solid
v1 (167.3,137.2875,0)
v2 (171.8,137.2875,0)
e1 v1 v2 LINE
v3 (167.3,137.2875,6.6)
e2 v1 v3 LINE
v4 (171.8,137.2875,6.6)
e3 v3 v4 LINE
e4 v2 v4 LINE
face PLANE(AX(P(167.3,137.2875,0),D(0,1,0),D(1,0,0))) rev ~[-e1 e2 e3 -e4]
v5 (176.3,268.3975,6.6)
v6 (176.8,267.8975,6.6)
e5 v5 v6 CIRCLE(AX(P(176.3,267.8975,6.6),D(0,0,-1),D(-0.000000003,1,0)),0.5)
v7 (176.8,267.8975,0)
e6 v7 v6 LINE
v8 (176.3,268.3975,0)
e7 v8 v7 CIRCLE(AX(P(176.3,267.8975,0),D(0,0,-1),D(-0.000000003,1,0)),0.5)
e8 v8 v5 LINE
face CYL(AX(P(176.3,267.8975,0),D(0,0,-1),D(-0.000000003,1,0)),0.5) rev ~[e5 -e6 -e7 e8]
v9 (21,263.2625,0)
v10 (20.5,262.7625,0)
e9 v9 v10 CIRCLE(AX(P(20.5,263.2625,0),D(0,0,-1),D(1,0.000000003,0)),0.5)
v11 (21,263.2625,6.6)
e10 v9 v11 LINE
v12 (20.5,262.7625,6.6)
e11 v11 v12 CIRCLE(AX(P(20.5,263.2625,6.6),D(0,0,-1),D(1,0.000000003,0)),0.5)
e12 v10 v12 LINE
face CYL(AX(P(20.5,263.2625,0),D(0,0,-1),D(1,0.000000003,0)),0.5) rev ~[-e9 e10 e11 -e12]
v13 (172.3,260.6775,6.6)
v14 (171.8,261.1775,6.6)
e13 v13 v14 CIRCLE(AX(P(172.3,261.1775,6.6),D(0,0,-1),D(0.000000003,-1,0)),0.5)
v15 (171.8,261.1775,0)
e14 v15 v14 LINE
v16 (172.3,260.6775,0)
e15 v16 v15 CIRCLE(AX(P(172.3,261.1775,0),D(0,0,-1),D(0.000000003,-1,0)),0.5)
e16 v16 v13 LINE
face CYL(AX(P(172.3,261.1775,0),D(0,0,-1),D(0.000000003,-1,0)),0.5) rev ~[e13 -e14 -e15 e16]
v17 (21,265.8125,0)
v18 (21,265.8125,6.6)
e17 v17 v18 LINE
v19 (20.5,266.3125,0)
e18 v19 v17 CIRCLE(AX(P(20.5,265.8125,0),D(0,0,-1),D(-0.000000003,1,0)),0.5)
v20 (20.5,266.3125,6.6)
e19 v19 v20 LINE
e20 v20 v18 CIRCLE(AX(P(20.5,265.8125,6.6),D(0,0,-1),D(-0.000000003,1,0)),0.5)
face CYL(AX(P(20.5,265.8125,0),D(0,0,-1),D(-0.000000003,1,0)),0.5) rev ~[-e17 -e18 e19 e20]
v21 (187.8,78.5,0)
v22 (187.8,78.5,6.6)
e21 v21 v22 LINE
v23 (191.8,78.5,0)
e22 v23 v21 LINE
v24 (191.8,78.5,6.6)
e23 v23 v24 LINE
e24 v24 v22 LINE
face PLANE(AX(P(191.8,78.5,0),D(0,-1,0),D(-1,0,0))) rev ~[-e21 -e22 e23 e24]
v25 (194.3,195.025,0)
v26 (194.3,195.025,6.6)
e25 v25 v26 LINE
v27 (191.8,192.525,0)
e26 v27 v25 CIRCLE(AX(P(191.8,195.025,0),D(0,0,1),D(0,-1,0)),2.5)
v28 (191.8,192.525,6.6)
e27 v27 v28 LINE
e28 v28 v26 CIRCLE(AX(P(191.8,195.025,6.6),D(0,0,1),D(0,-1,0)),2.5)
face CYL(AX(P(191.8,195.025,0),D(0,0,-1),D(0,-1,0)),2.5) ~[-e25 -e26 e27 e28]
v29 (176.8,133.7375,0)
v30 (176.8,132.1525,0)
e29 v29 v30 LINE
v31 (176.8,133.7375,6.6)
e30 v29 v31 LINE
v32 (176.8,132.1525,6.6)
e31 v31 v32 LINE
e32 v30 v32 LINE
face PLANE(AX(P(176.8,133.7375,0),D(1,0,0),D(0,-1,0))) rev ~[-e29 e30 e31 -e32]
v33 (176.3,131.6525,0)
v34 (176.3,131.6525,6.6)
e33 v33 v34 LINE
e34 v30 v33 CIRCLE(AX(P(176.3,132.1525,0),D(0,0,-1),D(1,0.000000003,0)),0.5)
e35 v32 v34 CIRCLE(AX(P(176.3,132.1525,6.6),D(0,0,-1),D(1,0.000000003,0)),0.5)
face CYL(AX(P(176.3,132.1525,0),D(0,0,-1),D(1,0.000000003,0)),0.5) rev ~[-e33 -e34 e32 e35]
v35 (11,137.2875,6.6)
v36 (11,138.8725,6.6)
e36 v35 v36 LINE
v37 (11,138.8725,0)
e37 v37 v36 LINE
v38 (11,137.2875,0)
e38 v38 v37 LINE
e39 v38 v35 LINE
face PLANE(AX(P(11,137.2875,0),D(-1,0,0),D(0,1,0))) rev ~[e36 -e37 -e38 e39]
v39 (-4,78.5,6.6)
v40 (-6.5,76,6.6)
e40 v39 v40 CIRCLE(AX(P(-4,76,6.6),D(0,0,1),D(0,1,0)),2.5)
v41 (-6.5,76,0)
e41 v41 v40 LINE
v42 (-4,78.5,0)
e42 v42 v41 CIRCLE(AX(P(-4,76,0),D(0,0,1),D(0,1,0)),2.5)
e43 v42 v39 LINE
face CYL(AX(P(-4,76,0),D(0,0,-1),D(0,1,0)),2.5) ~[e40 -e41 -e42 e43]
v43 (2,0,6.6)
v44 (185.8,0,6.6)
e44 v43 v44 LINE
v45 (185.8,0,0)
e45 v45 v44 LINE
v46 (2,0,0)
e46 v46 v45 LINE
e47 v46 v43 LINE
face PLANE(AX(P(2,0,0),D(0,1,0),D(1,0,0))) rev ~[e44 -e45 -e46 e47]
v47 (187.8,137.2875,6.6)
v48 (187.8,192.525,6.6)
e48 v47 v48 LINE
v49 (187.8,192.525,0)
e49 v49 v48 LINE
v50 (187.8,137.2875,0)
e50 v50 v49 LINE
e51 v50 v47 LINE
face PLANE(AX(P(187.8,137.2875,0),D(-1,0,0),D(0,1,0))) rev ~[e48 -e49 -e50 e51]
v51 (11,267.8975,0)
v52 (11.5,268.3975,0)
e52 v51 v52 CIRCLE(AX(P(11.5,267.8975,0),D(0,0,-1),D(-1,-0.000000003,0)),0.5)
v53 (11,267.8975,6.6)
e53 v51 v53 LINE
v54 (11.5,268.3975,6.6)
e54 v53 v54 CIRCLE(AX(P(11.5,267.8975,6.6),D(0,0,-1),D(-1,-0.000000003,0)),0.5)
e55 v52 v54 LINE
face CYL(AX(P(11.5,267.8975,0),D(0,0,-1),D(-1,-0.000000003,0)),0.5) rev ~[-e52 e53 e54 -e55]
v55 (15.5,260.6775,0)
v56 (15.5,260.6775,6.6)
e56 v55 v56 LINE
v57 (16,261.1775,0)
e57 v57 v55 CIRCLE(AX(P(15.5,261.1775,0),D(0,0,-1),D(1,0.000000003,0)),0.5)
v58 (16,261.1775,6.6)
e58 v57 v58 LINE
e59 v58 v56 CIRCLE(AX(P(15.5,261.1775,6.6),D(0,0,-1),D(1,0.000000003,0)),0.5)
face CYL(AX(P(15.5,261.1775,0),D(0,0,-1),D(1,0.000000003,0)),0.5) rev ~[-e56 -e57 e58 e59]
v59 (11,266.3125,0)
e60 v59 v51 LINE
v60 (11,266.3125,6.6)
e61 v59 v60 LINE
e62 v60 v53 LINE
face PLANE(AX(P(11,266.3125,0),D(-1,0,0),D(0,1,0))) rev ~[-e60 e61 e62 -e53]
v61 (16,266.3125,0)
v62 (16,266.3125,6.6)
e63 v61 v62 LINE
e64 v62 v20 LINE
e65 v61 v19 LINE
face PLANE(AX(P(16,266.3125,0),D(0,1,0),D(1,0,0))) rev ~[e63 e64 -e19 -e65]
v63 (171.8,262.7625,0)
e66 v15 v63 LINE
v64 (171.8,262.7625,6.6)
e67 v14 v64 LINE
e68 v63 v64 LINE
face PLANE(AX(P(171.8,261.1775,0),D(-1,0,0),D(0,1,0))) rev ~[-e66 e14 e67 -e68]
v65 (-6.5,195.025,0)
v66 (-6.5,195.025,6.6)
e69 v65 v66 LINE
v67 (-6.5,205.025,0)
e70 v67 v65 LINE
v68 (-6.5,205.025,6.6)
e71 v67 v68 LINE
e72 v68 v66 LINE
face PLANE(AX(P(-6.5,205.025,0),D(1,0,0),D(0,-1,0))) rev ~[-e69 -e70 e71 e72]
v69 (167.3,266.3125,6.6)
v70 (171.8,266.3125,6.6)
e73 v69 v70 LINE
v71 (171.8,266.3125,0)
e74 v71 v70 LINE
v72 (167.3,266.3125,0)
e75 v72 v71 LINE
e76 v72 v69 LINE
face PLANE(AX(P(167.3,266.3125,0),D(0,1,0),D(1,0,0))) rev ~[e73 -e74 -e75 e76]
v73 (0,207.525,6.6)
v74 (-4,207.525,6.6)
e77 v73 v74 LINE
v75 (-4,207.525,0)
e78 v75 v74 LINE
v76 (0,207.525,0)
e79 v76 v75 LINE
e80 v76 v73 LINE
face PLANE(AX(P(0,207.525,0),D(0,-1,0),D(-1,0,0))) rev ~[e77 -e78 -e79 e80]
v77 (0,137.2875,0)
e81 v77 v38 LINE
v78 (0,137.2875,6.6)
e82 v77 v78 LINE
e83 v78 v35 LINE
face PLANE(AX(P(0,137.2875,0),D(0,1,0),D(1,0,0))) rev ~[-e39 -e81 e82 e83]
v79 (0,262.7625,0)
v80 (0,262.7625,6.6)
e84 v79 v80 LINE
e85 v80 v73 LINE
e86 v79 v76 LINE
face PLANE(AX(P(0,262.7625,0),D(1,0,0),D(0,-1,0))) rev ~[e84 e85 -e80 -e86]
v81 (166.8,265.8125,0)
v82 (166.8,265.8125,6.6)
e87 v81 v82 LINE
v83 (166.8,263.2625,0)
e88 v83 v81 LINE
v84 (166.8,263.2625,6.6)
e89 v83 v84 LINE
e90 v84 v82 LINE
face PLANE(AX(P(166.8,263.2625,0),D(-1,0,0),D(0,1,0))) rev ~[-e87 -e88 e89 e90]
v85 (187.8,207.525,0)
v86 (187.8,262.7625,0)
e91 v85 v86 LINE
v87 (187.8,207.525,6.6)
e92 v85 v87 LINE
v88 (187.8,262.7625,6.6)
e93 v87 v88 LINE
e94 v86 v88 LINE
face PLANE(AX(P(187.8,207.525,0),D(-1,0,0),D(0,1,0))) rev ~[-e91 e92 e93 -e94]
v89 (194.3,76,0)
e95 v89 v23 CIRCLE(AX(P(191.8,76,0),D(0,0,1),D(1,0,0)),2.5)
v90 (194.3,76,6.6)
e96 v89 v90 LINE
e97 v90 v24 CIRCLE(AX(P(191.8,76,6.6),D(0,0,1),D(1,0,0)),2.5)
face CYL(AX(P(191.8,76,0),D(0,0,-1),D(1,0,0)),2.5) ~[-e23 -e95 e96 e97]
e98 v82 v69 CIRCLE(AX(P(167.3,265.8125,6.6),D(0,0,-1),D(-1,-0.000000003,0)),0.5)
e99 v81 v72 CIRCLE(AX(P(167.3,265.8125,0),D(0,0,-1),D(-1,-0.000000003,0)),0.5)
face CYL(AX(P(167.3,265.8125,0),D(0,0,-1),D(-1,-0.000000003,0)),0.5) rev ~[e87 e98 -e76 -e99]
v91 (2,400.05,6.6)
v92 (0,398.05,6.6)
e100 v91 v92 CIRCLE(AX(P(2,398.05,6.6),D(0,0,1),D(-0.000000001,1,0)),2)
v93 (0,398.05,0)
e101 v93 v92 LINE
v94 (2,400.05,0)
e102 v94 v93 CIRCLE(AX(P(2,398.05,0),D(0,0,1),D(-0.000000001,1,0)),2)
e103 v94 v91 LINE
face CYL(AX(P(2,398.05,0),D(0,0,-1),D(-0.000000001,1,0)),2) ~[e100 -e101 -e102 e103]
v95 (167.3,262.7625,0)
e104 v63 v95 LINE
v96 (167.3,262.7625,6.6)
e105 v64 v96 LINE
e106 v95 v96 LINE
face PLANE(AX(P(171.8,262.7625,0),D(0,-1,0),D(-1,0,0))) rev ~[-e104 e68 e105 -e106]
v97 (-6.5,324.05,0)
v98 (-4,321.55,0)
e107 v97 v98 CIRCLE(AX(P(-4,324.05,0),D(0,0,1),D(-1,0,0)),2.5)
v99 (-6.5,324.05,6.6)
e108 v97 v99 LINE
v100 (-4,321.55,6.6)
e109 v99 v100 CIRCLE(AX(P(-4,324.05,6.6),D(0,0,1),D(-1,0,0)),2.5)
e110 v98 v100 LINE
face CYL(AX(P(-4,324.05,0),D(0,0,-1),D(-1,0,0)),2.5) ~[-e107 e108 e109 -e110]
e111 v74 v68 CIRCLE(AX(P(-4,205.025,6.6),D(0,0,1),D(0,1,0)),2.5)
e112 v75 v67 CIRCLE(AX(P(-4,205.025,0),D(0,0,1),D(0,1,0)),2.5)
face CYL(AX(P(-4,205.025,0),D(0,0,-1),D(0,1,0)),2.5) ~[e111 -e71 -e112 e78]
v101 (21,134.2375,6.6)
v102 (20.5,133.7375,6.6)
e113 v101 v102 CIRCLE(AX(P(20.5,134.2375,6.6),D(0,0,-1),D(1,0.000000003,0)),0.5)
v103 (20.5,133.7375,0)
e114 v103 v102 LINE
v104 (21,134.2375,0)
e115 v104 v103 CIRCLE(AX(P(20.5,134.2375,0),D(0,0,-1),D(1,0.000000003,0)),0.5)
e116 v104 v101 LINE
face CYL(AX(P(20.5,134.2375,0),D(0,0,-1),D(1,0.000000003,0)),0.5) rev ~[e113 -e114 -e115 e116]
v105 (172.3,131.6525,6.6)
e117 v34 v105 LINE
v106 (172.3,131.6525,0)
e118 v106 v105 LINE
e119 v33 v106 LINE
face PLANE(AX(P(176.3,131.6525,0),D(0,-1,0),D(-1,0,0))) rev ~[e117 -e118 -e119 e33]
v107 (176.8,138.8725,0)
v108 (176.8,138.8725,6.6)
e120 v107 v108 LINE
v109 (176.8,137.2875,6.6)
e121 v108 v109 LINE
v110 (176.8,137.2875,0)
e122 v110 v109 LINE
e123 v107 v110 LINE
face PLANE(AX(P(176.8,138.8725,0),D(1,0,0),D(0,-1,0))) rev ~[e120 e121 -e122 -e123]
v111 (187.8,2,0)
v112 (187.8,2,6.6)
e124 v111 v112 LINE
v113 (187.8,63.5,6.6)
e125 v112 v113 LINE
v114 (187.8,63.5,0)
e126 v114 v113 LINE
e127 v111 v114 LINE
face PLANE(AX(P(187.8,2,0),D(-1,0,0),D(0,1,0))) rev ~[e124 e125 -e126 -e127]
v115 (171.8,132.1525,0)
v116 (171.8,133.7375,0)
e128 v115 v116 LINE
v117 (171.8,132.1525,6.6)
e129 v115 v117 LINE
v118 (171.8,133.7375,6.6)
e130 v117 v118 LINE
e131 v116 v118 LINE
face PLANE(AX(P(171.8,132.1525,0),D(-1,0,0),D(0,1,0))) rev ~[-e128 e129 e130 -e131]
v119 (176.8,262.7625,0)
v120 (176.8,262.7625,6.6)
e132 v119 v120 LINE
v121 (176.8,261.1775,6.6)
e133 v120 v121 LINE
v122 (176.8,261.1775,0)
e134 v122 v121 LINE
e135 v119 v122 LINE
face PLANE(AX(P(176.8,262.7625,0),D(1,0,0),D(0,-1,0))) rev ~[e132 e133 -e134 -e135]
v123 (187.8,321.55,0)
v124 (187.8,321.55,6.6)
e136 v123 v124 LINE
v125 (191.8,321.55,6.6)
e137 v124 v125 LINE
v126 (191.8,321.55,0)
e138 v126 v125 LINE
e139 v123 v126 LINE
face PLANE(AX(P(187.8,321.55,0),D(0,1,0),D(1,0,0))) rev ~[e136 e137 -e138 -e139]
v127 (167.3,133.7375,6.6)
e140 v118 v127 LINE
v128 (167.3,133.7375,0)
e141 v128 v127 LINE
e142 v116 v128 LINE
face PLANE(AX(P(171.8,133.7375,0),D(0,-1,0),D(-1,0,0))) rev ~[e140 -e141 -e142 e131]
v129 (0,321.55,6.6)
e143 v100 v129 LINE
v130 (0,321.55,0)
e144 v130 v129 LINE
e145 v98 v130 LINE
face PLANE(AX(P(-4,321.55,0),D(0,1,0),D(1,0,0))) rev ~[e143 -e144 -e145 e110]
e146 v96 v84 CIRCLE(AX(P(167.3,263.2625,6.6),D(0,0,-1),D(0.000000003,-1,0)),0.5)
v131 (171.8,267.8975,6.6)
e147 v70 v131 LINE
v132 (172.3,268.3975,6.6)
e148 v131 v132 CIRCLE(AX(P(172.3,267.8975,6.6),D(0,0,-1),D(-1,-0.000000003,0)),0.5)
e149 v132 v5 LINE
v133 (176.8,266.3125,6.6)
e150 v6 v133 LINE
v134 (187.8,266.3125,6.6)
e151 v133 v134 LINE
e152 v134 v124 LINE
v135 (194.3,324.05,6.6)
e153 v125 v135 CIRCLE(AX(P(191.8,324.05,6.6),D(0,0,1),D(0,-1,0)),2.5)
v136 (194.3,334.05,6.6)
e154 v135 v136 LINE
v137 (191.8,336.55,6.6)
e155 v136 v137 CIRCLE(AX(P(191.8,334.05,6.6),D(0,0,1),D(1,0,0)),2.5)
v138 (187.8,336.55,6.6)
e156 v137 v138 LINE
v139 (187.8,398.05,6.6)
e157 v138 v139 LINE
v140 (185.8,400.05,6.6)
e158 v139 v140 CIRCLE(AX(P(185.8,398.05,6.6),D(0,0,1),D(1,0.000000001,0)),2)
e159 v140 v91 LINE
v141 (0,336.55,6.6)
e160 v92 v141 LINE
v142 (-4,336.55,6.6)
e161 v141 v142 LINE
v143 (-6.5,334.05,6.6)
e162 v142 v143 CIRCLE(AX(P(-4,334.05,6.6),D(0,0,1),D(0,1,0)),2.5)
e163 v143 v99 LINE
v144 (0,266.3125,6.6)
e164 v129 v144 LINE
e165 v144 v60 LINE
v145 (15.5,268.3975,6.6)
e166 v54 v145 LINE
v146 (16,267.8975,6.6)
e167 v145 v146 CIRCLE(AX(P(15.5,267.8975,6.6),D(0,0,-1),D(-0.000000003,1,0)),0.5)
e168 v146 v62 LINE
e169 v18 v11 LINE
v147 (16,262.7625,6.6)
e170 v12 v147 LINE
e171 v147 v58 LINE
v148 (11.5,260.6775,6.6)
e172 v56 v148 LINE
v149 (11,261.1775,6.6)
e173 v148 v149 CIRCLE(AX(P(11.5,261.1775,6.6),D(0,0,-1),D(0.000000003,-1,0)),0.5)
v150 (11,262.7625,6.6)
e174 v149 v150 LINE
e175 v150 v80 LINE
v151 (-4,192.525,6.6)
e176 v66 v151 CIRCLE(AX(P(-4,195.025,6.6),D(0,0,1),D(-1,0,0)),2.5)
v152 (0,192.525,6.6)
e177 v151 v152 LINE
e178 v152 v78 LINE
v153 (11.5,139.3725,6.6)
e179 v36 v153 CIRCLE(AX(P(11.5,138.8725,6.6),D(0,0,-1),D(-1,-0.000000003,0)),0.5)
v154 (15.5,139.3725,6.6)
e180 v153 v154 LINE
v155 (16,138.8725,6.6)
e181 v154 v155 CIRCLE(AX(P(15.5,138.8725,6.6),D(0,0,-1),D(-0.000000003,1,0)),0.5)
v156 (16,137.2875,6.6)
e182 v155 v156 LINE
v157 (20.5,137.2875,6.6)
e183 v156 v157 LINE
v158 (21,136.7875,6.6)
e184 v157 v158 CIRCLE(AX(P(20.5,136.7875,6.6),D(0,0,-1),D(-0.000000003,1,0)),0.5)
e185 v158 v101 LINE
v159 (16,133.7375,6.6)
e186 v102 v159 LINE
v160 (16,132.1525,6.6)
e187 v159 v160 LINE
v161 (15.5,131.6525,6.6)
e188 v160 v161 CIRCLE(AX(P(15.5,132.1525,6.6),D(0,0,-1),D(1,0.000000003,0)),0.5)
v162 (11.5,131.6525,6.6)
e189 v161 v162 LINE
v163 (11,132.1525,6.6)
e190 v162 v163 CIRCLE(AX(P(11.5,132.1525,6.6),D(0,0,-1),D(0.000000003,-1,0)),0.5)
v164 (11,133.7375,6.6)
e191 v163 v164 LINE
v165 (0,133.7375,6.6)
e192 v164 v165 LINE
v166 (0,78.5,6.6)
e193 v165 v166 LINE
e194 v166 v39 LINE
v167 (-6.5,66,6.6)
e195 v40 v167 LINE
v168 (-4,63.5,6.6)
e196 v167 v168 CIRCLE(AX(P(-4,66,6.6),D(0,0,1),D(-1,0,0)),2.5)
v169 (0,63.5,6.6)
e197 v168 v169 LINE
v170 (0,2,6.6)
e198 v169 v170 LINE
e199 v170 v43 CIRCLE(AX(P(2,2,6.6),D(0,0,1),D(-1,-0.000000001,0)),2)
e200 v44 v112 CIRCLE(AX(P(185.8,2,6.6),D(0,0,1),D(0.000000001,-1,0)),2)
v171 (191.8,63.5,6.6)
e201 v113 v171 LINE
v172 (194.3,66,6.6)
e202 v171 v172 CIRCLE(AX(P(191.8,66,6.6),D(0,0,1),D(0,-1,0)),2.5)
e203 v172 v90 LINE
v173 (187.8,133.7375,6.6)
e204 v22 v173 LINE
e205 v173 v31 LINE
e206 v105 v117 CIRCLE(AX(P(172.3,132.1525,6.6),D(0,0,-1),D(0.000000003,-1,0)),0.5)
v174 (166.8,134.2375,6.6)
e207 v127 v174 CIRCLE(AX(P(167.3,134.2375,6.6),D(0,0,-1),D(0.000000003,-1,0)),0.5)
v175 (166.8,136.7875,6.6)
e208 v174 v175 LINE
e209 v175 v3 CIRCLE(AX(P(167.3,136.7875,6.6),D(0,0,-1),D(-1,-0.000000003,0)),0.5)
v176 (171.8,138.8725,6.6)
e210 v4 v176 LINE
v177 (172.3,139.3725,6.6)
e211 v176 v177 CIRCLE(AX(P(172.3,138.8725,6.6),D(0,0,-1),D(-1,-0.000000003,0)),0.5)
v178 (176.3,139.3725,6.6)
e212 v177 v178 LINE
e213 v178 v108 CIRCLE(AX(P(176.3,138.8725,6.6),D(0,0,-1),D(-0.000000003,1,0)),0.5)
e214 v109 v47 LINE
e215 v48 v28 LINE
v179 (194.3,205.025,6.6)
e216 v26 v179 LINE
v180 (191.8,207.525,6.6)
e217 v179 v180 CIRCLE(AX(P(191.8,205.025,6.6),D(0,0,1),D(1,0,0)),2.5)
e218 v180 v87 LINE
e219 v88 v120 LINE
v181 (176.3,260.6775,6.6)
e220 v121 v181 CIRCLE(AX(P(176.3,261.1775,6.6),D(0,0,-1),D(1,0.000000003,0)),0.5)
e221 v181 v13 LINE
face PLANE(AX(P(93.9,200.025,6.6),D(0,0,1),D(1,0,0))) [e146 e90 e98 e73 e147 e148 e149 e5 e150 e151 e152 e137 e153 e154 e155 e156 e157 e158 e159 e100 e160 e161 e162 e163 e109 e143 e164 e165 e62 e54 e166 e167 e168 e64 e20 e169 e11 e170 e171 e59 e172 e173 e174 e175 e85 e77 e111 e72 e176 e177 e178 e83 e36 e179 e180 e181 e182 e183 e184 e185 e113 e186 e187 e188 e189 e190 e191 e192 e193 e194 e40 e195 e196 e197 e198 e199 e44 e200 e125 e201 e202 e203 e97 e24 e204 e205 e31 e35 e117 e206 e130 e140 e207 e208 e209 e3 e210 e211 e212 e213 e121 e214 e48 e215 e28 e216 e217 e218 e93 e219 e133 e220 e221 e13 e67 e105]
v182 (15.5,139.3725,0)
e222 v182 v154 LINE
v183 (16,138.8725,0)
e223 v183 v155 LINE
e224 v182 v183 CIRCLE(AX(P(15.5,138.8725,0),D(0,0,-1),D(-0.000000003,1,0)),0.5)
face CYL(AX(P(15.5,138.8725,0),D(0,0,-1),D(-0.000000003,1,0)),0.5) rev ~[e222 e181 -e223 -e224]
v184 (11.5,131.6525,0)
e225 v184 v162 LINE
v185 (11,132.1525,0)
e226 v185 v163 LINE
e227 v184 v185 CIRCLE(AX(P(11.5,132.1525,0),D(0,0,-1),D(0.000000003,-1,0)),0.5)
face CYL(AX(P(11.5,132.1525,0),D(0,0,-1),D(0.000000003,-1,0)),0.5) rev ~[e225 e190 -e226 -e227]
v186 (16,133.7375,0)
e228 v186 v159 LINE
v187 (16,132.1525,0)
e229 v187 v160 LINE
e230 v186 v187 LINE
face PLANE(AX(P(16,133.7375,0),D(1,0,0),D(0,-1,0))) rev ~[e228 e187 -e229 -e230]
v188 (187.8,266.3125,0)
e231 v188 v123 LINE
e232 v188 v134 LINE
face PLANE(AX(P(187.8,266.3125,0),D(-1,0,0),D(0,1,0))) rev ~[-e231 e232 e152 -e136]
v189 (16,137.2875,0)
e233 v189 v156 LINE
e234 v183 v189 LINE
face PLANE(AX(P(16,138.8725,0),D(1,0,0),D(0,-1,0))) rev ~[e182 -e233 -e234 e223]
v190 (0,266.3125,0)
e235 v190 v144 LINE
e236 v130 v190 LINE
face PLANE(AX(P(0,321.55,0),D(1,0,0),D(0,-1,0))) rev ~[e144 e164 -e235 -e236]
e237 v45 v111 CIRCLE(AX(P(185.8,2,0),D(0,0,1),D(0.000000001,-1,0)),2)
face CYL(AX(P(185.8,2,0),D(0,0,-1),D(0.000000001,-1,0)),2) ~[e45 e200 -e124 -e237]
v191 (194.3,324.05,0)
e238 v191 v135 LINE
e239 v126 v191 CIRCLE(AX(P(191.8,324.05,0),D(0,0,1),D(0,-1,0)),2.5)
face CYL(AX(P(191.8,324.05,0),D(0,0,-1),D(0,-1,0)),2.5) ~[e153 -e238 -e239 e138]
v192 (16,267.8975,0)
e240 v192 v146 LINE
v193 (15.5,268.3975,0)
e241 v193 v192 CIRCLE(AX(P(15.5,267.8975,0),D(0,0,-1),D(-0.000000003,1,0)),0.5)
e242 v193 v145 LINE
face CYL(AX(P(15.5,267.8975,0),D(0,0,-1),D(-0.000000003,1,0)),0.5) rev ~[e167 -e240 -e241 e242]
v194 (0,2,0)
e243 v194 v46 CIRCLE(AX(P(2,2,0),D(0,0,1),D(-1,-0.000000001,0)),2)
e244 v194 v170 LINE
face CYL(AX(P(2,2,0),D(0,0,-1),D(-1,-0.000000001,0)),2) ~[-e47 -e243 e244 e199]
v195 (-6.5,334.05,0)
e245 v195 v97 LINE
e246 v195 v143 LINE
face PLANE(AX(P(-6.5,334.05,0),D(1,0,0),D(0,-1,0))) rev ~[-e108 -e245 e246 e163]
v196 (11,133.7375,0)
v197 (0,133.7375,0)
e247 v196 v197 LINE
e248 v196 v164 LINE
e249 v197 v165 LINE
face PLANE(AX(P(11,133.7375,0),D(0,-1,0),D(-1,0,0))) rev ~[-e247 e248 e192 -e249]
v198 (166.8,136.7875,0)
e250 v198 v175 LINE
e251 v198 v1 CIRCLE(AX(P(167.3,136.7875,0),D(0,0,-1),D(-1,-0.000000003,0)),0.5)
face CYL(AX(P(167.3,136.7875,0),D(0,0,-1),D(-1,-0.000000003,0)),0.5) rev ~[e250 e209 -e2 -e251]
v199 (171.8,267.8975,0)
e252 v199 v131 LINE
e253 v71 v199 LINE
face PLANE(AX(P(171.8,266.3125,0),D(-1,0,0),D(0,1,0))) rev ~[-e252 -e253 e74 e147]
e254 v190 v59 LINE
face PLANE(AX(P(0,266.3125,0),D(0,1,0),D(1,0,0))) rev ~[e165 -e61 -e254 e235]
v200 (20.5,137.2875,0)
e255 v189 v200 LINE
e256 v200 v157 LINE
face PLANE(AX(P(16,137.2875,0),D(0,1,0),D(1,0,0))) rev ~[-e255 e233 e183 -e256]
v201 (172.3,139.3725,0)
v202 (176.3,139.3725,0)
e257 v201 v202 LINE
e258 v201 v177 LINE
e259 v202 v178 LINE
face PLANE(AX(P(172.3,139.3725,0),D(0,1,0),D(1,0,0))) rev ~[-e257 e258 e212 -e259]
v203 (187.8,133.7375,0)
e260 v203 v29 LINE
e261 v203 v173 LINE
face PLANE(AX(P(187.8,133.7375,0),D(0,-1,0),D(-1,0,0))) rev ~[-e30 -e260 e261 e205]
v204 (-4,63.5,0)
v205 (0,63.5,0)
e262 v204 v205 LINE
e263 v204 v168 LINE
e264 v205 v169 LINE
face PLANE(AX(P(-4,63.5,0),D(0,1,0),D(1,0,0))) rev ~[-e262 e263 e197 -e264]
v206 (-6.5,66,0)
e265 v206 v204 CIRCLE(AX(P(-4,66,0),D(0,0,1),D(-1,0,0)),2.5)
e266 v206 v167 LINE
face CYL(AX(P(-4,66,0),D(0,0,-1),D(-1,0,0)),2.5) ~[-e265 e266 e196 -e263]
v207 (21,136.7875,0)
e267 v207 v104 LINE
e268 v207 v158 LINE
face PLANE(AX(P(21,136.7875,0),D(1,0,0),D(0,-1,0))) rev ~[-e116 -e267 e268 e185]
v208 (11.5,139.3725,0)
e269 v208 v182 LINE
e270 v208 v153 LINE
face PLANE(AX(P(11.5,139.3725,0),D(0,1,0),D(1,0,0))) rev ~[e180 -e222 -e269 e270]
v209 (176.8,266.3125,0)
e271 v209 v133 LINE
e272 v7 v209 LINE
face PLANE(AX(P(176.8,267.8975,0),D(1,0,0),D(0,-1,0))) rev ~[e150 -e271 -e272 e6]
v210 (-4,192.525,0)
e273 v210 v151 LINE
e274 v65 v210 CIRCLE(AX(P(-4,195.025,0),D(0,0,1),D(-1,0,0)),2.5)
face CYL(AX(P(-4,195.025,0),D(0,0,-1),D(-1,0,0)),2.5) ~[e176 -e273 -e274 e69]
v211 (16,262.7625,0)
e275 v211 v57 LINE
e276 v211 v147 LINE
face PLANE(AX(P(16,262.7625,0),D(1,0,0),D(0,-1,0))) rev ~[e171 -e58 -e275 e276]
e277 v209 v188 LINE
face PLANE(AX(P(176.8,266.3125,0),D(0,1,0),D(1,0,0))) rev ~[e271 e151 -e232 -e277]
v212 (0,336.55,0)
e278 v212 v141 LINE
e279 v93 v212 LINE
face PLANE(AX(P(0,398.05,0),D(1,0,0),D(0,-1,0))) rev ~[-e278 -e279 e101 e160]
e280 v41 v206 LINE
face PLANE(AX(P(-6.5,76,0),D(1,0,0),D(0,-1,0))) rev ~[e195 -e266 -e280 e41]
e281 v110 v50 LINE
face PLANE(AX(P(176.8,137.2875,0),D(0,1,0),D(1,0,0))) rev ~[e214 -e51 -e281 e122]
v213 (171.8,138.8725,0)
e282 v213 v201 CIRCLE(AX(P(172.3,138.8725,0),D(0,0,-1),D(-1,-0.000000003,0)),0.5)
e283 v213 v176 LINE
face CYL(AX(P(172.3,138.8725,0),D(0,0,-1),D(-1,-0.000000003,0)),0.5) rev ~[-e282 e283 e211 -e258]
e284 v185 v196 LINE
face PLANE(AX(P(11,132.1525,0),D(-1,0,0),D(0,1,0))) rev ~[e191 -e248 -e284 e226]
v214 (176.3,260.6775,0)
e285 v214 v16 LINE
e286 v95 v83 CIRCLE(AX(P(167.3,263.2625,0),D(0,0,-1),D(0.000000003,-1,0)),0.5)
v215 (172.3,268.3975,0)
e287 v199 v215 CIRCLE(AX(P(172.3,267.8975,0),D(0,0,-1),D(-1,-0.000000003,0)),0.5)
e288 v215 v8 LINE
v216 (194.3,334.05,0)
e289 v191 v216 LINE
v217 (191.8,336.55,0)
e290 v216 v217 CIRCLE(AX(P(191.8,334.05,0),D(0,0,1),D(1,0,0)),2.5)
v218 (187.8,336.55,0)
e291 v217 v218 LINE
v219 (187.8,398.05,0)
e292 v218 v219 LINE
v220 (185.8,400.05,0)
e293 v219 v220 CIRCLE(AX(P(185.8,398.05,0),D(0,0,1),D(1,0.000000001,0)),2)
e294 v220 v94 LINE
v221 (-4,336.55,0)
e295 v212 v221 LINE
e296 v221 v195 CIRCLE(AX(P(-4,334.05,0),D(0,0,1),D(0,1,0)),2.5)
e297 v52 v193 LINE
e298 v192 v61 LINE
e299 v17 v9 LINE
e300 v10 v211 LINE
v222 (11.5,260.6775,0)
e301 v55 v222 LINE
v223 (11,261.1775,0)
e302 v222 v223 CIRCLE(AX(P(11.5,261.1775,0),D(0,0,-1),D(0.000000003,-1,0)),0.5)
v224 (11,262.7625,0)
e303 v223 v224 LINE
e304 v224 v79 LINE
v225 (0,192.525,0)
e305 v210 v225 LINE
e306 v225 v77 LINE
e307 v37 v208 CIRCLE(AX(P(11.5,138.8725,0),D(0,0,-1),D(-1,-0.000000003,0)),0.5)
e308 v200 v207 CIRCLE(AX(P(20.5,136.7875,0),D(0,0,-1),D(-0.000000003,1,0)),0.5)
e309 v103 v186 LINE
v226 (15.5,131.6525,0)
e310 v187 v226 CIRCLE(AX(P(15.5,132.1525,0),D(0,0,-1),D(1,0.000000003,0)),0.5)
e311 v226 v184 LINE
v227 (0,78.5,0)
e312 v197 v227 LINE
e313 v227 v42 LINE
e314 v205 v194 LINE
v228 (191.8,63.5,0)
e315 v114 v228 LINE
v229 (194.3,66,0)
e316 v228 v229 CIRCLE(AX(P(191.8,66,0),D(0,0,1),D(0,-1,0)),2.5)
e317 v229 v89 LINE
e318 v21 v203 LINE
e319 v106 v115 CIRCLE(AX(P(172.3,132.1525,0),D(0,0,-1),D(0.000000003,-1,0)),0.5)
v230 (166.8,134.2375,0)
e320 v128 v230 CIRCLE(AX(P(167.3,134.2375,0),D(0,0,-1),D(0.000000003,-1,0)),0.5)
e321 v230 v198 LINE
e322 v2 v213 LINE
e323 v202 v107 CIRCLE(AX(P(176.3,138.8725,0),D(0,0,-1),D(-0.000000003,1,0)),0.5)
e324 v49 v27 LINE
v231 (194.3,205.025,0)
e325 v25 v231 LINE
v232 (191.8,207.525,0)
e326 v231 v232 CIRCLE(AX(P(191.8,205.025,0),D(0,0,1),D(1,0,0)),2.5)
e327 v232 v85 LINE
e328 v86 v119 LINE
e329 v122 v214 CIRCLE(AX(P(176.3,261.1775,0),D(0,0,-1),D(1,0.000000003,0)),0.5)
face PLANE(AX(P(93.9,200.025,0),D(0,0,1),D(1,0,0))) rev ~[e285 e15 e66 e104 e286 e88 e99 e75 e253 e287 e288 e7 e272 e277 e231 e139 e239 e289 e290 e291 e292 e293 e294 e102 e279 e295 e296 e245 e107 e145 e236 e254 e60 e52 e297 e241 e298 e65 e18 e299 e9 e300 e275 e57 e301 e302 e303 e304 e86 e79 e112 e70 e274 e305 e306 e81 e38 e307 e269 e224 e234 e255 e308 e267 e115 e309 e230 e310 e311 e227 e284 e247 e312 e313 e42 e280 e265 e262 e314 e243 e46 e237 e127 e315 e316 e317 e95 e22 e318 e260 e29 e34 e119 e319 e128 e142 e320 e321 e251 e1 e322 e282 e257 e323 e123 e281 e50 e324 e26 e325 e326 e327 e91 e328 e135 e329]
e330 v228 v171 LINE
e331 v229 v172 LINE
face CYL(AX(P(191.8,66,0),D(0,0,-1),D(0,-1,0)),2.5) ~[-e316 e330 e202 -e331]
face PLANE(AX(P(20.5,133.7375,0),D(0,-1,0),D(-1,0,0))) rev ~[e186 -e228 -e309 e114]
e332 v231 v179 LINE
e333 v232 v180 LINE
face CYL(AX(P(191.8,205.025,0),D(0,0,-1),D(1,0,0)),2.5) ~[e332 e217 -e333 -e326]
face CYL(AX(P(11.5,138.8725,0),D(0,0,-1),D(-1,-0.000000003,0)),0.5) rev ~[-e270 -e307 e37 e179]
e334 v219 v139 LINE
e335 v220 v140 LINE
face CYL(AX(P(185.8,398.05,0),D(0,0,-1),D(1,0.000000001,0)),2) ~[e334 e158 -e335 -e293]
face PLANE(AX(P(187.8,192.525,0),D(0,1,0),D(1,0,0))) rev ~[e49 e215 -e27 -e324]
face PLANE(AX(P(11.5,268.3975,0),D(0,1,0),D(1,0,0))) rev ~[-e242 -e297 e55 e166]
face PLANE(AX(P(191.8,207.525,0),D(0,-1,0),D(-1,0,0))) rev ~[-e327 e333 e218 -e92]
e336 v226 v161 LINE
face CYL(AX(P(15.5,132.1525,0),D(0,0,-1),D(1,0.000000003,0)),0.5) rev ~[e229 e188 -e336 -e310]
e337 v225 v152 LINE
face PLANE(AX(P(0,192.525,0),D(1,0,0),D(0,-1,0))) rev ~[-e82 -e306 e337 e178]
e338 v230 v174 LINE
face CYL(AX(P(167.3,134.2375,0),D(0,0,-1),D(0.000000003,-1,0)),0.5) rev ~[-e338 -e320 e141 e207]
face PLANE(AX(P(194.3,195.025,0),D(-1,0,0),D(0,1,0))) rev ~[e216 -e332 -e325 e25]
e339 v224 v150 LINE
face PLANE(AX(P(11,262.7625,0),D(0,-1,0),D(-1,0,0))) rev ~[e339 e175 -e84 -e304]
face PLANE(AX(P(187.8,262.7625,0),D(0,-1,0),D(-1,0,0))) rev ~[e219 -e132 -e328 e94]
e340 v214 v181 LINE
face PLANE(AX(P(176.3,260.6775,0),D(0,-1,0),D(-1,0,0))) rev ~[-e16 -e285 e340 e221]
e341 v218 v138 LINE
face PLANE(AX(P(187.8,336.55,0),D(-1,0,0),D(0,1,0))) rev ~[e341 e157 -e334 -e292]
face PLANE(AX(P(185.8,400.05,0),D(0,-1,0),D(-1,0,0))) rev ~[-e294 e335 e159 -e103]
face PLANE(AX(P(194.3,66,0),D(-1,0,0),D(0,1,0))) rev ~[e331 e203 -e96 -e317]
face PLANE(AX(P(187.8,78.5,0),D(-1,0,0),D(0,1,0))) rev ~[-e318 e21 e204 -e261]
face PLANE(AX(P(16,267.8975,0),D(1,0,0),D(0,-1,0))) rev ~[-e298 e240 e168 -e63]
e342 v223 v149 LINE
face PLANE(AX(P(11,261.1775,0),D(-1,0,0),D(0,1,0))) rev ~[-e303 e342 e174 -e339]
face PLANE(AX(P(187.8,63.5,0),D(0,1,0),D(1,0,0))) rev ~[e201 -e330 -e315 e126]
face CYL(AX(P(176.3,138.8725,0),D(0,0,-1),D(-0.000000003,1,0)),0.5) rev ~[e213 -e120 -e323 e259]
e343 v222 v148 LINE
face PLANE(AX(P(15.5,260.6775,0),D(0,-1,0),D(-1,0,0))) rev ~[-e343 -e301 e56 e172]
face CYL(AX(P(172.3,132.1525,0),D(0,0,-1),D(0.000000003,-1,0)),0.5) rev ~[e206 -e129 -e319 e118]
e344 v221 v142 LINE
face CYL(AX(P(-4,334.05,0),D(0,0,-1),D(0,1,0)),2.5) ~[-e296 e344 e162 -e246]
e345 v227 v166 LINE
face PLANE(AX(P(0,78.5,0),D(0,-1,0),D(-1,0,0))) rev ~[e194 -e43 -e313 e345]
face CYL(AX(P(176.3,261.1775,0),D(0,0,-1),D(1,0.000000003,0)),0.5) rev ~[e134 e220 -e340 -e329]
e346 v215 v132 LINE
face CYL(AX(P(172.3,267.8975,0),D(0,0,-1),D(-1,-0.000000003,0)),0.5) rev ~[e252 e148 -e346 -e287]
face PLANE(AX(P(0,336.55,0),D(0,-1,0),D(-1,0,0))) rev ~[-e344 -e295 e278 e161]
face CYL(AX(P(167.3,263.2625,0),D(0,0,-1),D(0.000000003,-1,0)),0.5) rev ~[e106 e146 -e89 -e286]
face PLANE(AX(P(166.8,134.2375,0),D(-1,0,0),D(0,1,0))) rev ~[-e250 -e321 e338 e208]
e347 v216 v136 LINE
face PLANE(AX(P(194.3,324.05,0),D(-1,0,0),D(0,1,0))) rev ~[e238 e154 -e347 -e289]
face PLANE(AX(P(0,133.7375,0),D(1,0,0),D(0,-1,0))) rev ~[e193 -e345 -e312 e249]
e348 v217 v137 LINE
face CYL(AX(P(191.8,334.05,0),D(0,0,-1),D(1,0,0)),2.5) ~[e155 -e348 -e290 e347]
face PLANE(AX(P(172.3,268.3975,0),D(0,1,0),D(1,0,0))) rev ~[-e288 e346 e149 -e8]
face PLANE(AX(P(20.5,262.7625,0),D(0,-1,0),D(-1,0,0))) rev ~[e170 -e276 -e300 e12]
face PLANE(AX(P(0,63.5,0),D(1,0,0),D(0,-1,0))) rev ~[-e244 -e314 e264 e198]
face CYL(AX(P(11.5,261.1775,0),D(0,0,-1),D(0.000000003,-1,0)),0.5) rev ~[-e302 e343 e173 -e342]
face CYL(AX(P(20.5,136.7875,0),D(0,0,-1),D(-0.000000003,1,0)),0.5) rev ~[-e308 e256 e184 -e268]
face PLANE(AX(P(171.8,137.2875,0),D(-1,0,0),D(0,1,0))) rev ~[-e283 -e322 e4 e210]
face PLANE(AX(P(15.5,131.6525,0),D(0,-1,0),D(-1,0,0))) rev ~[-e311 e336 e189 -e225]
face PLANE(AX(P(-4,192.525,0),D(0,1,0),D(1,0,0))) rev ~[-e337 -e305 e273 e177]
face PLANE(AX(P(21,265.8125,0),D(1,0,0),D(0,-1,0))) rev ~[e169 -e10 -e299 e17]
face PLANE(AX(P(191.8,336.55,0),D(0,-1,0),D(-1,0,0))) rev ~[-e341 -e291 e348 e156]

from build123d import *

# Parameters (mm, degrees)
BOSS_EXTRUDE1_DEPTH = 6.6


with BuildPart() as part:
    # Model → Boss-Extrude1 (new body)
    with BuildSketch(Plane.XY):
        with BuildLine():
            Line((-6.5, 76), (-6.5, 66))
            ThreePointArc((-6.5, 66), (-5.767766953, 64.232233047), (-4, 63.5))
            Line((-4, 63.5), (0, 63.5))
            Line((0, 63.5), (0, 2))
            ThreePointArc((0, 2), (0.585786438, 0.585786438), (2, 0))
            Line((2, 0), (185.8, 0))
            ThreePointArc((185.8, 0), (187.214213562, 0.585786438), (187.8, 2))
            Line((187.8, 2), (187.8, 63.5))
            Line((187.8, 63.5), (191.8, 63.5))
            ThreePointArc((191.8, 63.5), (193.567766953, 64.232233047), (194.3, 66))
            Line((194.3, 66), (194.3, 76))
            ThreePointArc((194.3, 76), (193.567766953, 77.767766953), (191.8, 78.5))
            Line((191.8, 78.5), (187.8, 78.5))
            Line((187.8, 78.5), (187.8, 133.7375))
            Line((187.8, 133.7375), (176.8, 133.7375))
            Line((176.8, 133.7375), (176.8, 132.1525))
            ThreePointArc((176.8, 132.1525), (176.653553391, 131.798946609), (176.3, 131.6525))
            Line((176.3, 131.6525), (172.3, 131.6525))
            ThreePointArc((172.3, 131.6525), (171.946446609, 131.798946609), (171.8, 132.1525))
            Line((171.8, 132.1525), (171.8, 133.7375))
            Line((171.8, 133.7375), (167.3, 133.7375))
            ThreePointArc((167.3, 133.7375), (166.946446609, 133.883946609), (166.8, 134.2375))
            Line((166.8, 134.2375), (166.8, 136.7875))
            ThreePointArc((166.8, 136.7875), (166.946446609, 137.141053391), (167.3, 137.2875))
            Line((167.3, 137.2875), (171.8, 137.2875))
            Line((171.8, 137.2875), (171.8, 138.8725))
            ThreePointArc((171.8, 138.8725), (171.946446609, 139.226053391), (172.3, 139.3725))
            Line((172.3, 139.3725), (176.3, 139.3725))
            ThreePointArc((176.3, 139.3725), (176.653553391, 139.226053391), (176.8, 138.8725))
            Line((176.8, 138.8725), (176.8, 137.2875))
            Line((176.8, 137.2875), (187.8, 137.2875))
            Line((187.8, 137.2875), (187.8, 192.525))
            Line((187.8, 192.525), (191.8, 192.525))
            ThreePointArc((191.8, 192.525), (193.567766953, 193.257233047), (194.3, 195.025))
            Line((194.3, 195.025), (194.3, 205.025))
            ThreePointArc((194.3, 205.025), (193.567766953, 206.792766953), (191.8, 207.525))
            Line((191.8, 207.525), (187.8, 207.525))
            Line((187.8, 207.525), (187.8, 262.7625))
            Line((187.8, 262.7625), (176.8, 262.7625))
            Line((176.8, 262.7625), (176.8, 261.1775))
            ThreePointArc((176.8, 261.1775), (176.653553391, 260.823946609), (176.3, 260.6775))
            Line((176.3, 260.6775), (172.3, 260.6775))
            ThreePointArc((172.3, 260.6775), (171.946446609, 260.823946609), (171.8, 261.1775))
            Line((171.8, 261.1775), (171.8, 262.7625))
            Line((171.8, 262.7625), (167.3, 262.7625))
            ThreePointArc((167.3, 262.7625), (166.946446609, 262.908946609), (166.8, 263.2625))
            Line((166.8, 263.2625), (166.8, 265.8125))
            ThreePointArc((166.8, 265.8125), (166.946446609, 266.166053391), (167.3, 266.3125))
            Line((167.3, 266.3125), (171.8, 266.3125))
            Line((171.8, 266.3125), (171.8, 267.8975))
            ThreePointArc((171.8, 267.8975), (171.946446609, 268.251053391), (172.3, 268.3975))
            Line((172.3, 268.3975), (176.3, 268.3975))
            ThreePointArc((176.3, 268.3975), (176.653553391, 268.251053391), (176.8, 267.8975))
            Line((176.8, 267.8975), (176.8, 266.3125))
            Line((176.8, 266.3125), (187.8, 266.3125))
            Line((187.8, 266.3125), (187.8, 321.55))
            Line((187.8, 321.55), (191.8, 321.55))
            ThreePointArc((191.8, 321.55), (193.567766953, 322.282233047), (194.3, 324.05))
            Line((194.3, 324.05), (194.3, 334.05))
            ThreePointArc((194.3, 334.05), (193.567766953, 335.817766953), (191.8, 336.55))
            Line((191.8, 336.55), (187.8, 336.55))
            Line((187.8, 336.55), (187.8, 398.05))
            ThreePointArc((187.8, 398.05), (187.214213562, 399.464213562), (185.8, 400.05))
            Line((185.8, 400.05), (2, 400.05))
            ThreePointArc((2, 400.05), (0.585786438, 399.464213562), (0, 398.05))
            Line((0, 398.05), (0, 336.55))
            Line((0, 336.55), (-4, 336.55))
            ThreePointArc((-4, 336.55), (-5.767766953, 335.817766953), (-6.5, 334.05))
            Line((-6.5, 334.05), (-6.5, 324.05))
            ThreePointArc((-6.5, 324.05), (-5.767766953, 322.282233047), (-4, 321.55))
            Line((-4, 321.55), (0, 321.55))
            Line((0, 321.55), (0, 266.3125))
            Line((0, 266.3125), (11, 266.3125))
            Line((11, 266.3125), (11, 267.8975))
            ThreePointArc((11, 267.8975), (11.146446609, 268.251053391), (11.5, 268.3975))
            Line((11.5, 268.3975), (15.5, 268.3975))
            ThreePointArc((15.5, 268.3975), (15.853553391, 268.251053391), (16, 267.8975))
            Line((16, 267.8975), (16, 266.3125))
            Line((16, 266.3125), (20.5, 266.3125))
            ThreePointArc((20.5, 266.3125), (20.853553391, 266.166053391), (21, 265.8125))
            Line((21, 265.8125), (21, 263.2625))
            ThreePointArc((21, 263.2625), (20.853553391, 262.908946609), (20.5, 262.7625))
            Line((20.5, 262.7625), (16, 262.7625))
            Line((16, 262.7625), (16, 261.1775))
            ThreePointArc((16, 261.1775), (15.853553391, 260.823946609), (15.5, 260.6775))
            Line((15.5, 260.6775), (11.5, 260.6775))
            ThreePointArc((11.5, 260.6775), (11.146446609, 260.823946609), (11, 261.1775))
            Line((11, 261.1775), (11, 262.7625))
            Line((11, 262.7625), (0, 262.7625))
            Line((0, 262.7625), (0, 207.525))
            Line((0, 207.525), (-4, 207.525))
            ThreePointArc((-4, 207.525), (-5.767766953, 206.792766953), (-6.5, 205.025))
            Line((-6.5, 205.025), (-6.5, 195.025))
            ThreePointArc((-6.5, 195.025), (-5.767766953, 193.257233047), (-4, 192.525))
            Line((-4, 192.525), (0, 192.525))
            Line((0, 192.525), (0, 137.2875))
            Line((0, 137.2875), (11, 137.2875))
            Line((11, 137.2875), (11, 138.8725))
            ThreePointArc((11, 138.8725), (11.146446609, 139.226053391), (11.5, 139.3725))
            Line((11.5, 139.3725), (15.5, 139.3725))
            ThreePointArc((15.5, 139.3725), (15.853553391, 139.226053391), (16, 138.8725))
            Line((16, 138.8725), (16, 137.2875))
            Line((16, 137.2875), (20.5, 137.2875))
            ThreePointArc((20.5, 137.2875), (20.853553391, 137.141053391), (21, 136.7875))
            Line((21, 136.7875), (21, 134.2375))
            ThreePointArc((21, 134.2375), (20.853553391, 133.883946609), (20.5, 133.7375))
            Line((20.5, 133.7375), (16, 133.7375))
            Line((16, 133.7375), (16, 132.1525))
            ThreePointArc((16, 132.1525), (15.853553391, 131.798946609), (15.5, 131.6525))
            Line((15.5, 131.6525), (11.5, 131.6525))
            ThreePointArc((11.5, 131.6525), (11.146446609, 131.798946609), (11, 132.1525))
            Line((11, 132.1525), (11, 133.7375))
            Line((11, 133.7375), (0, 133.7375))
            Line((0, 133.7375), (0, 78.5))
            Line((0, 78.5), (-4, 78.5))
            ThreePointArc((-4, 78.5), (-5.767766953, 77.767766953), (-6.5, 76))
        make_face()
    extrude(amount=BOSS_EXTRUDE1_DEPTH)


solid = part.part
